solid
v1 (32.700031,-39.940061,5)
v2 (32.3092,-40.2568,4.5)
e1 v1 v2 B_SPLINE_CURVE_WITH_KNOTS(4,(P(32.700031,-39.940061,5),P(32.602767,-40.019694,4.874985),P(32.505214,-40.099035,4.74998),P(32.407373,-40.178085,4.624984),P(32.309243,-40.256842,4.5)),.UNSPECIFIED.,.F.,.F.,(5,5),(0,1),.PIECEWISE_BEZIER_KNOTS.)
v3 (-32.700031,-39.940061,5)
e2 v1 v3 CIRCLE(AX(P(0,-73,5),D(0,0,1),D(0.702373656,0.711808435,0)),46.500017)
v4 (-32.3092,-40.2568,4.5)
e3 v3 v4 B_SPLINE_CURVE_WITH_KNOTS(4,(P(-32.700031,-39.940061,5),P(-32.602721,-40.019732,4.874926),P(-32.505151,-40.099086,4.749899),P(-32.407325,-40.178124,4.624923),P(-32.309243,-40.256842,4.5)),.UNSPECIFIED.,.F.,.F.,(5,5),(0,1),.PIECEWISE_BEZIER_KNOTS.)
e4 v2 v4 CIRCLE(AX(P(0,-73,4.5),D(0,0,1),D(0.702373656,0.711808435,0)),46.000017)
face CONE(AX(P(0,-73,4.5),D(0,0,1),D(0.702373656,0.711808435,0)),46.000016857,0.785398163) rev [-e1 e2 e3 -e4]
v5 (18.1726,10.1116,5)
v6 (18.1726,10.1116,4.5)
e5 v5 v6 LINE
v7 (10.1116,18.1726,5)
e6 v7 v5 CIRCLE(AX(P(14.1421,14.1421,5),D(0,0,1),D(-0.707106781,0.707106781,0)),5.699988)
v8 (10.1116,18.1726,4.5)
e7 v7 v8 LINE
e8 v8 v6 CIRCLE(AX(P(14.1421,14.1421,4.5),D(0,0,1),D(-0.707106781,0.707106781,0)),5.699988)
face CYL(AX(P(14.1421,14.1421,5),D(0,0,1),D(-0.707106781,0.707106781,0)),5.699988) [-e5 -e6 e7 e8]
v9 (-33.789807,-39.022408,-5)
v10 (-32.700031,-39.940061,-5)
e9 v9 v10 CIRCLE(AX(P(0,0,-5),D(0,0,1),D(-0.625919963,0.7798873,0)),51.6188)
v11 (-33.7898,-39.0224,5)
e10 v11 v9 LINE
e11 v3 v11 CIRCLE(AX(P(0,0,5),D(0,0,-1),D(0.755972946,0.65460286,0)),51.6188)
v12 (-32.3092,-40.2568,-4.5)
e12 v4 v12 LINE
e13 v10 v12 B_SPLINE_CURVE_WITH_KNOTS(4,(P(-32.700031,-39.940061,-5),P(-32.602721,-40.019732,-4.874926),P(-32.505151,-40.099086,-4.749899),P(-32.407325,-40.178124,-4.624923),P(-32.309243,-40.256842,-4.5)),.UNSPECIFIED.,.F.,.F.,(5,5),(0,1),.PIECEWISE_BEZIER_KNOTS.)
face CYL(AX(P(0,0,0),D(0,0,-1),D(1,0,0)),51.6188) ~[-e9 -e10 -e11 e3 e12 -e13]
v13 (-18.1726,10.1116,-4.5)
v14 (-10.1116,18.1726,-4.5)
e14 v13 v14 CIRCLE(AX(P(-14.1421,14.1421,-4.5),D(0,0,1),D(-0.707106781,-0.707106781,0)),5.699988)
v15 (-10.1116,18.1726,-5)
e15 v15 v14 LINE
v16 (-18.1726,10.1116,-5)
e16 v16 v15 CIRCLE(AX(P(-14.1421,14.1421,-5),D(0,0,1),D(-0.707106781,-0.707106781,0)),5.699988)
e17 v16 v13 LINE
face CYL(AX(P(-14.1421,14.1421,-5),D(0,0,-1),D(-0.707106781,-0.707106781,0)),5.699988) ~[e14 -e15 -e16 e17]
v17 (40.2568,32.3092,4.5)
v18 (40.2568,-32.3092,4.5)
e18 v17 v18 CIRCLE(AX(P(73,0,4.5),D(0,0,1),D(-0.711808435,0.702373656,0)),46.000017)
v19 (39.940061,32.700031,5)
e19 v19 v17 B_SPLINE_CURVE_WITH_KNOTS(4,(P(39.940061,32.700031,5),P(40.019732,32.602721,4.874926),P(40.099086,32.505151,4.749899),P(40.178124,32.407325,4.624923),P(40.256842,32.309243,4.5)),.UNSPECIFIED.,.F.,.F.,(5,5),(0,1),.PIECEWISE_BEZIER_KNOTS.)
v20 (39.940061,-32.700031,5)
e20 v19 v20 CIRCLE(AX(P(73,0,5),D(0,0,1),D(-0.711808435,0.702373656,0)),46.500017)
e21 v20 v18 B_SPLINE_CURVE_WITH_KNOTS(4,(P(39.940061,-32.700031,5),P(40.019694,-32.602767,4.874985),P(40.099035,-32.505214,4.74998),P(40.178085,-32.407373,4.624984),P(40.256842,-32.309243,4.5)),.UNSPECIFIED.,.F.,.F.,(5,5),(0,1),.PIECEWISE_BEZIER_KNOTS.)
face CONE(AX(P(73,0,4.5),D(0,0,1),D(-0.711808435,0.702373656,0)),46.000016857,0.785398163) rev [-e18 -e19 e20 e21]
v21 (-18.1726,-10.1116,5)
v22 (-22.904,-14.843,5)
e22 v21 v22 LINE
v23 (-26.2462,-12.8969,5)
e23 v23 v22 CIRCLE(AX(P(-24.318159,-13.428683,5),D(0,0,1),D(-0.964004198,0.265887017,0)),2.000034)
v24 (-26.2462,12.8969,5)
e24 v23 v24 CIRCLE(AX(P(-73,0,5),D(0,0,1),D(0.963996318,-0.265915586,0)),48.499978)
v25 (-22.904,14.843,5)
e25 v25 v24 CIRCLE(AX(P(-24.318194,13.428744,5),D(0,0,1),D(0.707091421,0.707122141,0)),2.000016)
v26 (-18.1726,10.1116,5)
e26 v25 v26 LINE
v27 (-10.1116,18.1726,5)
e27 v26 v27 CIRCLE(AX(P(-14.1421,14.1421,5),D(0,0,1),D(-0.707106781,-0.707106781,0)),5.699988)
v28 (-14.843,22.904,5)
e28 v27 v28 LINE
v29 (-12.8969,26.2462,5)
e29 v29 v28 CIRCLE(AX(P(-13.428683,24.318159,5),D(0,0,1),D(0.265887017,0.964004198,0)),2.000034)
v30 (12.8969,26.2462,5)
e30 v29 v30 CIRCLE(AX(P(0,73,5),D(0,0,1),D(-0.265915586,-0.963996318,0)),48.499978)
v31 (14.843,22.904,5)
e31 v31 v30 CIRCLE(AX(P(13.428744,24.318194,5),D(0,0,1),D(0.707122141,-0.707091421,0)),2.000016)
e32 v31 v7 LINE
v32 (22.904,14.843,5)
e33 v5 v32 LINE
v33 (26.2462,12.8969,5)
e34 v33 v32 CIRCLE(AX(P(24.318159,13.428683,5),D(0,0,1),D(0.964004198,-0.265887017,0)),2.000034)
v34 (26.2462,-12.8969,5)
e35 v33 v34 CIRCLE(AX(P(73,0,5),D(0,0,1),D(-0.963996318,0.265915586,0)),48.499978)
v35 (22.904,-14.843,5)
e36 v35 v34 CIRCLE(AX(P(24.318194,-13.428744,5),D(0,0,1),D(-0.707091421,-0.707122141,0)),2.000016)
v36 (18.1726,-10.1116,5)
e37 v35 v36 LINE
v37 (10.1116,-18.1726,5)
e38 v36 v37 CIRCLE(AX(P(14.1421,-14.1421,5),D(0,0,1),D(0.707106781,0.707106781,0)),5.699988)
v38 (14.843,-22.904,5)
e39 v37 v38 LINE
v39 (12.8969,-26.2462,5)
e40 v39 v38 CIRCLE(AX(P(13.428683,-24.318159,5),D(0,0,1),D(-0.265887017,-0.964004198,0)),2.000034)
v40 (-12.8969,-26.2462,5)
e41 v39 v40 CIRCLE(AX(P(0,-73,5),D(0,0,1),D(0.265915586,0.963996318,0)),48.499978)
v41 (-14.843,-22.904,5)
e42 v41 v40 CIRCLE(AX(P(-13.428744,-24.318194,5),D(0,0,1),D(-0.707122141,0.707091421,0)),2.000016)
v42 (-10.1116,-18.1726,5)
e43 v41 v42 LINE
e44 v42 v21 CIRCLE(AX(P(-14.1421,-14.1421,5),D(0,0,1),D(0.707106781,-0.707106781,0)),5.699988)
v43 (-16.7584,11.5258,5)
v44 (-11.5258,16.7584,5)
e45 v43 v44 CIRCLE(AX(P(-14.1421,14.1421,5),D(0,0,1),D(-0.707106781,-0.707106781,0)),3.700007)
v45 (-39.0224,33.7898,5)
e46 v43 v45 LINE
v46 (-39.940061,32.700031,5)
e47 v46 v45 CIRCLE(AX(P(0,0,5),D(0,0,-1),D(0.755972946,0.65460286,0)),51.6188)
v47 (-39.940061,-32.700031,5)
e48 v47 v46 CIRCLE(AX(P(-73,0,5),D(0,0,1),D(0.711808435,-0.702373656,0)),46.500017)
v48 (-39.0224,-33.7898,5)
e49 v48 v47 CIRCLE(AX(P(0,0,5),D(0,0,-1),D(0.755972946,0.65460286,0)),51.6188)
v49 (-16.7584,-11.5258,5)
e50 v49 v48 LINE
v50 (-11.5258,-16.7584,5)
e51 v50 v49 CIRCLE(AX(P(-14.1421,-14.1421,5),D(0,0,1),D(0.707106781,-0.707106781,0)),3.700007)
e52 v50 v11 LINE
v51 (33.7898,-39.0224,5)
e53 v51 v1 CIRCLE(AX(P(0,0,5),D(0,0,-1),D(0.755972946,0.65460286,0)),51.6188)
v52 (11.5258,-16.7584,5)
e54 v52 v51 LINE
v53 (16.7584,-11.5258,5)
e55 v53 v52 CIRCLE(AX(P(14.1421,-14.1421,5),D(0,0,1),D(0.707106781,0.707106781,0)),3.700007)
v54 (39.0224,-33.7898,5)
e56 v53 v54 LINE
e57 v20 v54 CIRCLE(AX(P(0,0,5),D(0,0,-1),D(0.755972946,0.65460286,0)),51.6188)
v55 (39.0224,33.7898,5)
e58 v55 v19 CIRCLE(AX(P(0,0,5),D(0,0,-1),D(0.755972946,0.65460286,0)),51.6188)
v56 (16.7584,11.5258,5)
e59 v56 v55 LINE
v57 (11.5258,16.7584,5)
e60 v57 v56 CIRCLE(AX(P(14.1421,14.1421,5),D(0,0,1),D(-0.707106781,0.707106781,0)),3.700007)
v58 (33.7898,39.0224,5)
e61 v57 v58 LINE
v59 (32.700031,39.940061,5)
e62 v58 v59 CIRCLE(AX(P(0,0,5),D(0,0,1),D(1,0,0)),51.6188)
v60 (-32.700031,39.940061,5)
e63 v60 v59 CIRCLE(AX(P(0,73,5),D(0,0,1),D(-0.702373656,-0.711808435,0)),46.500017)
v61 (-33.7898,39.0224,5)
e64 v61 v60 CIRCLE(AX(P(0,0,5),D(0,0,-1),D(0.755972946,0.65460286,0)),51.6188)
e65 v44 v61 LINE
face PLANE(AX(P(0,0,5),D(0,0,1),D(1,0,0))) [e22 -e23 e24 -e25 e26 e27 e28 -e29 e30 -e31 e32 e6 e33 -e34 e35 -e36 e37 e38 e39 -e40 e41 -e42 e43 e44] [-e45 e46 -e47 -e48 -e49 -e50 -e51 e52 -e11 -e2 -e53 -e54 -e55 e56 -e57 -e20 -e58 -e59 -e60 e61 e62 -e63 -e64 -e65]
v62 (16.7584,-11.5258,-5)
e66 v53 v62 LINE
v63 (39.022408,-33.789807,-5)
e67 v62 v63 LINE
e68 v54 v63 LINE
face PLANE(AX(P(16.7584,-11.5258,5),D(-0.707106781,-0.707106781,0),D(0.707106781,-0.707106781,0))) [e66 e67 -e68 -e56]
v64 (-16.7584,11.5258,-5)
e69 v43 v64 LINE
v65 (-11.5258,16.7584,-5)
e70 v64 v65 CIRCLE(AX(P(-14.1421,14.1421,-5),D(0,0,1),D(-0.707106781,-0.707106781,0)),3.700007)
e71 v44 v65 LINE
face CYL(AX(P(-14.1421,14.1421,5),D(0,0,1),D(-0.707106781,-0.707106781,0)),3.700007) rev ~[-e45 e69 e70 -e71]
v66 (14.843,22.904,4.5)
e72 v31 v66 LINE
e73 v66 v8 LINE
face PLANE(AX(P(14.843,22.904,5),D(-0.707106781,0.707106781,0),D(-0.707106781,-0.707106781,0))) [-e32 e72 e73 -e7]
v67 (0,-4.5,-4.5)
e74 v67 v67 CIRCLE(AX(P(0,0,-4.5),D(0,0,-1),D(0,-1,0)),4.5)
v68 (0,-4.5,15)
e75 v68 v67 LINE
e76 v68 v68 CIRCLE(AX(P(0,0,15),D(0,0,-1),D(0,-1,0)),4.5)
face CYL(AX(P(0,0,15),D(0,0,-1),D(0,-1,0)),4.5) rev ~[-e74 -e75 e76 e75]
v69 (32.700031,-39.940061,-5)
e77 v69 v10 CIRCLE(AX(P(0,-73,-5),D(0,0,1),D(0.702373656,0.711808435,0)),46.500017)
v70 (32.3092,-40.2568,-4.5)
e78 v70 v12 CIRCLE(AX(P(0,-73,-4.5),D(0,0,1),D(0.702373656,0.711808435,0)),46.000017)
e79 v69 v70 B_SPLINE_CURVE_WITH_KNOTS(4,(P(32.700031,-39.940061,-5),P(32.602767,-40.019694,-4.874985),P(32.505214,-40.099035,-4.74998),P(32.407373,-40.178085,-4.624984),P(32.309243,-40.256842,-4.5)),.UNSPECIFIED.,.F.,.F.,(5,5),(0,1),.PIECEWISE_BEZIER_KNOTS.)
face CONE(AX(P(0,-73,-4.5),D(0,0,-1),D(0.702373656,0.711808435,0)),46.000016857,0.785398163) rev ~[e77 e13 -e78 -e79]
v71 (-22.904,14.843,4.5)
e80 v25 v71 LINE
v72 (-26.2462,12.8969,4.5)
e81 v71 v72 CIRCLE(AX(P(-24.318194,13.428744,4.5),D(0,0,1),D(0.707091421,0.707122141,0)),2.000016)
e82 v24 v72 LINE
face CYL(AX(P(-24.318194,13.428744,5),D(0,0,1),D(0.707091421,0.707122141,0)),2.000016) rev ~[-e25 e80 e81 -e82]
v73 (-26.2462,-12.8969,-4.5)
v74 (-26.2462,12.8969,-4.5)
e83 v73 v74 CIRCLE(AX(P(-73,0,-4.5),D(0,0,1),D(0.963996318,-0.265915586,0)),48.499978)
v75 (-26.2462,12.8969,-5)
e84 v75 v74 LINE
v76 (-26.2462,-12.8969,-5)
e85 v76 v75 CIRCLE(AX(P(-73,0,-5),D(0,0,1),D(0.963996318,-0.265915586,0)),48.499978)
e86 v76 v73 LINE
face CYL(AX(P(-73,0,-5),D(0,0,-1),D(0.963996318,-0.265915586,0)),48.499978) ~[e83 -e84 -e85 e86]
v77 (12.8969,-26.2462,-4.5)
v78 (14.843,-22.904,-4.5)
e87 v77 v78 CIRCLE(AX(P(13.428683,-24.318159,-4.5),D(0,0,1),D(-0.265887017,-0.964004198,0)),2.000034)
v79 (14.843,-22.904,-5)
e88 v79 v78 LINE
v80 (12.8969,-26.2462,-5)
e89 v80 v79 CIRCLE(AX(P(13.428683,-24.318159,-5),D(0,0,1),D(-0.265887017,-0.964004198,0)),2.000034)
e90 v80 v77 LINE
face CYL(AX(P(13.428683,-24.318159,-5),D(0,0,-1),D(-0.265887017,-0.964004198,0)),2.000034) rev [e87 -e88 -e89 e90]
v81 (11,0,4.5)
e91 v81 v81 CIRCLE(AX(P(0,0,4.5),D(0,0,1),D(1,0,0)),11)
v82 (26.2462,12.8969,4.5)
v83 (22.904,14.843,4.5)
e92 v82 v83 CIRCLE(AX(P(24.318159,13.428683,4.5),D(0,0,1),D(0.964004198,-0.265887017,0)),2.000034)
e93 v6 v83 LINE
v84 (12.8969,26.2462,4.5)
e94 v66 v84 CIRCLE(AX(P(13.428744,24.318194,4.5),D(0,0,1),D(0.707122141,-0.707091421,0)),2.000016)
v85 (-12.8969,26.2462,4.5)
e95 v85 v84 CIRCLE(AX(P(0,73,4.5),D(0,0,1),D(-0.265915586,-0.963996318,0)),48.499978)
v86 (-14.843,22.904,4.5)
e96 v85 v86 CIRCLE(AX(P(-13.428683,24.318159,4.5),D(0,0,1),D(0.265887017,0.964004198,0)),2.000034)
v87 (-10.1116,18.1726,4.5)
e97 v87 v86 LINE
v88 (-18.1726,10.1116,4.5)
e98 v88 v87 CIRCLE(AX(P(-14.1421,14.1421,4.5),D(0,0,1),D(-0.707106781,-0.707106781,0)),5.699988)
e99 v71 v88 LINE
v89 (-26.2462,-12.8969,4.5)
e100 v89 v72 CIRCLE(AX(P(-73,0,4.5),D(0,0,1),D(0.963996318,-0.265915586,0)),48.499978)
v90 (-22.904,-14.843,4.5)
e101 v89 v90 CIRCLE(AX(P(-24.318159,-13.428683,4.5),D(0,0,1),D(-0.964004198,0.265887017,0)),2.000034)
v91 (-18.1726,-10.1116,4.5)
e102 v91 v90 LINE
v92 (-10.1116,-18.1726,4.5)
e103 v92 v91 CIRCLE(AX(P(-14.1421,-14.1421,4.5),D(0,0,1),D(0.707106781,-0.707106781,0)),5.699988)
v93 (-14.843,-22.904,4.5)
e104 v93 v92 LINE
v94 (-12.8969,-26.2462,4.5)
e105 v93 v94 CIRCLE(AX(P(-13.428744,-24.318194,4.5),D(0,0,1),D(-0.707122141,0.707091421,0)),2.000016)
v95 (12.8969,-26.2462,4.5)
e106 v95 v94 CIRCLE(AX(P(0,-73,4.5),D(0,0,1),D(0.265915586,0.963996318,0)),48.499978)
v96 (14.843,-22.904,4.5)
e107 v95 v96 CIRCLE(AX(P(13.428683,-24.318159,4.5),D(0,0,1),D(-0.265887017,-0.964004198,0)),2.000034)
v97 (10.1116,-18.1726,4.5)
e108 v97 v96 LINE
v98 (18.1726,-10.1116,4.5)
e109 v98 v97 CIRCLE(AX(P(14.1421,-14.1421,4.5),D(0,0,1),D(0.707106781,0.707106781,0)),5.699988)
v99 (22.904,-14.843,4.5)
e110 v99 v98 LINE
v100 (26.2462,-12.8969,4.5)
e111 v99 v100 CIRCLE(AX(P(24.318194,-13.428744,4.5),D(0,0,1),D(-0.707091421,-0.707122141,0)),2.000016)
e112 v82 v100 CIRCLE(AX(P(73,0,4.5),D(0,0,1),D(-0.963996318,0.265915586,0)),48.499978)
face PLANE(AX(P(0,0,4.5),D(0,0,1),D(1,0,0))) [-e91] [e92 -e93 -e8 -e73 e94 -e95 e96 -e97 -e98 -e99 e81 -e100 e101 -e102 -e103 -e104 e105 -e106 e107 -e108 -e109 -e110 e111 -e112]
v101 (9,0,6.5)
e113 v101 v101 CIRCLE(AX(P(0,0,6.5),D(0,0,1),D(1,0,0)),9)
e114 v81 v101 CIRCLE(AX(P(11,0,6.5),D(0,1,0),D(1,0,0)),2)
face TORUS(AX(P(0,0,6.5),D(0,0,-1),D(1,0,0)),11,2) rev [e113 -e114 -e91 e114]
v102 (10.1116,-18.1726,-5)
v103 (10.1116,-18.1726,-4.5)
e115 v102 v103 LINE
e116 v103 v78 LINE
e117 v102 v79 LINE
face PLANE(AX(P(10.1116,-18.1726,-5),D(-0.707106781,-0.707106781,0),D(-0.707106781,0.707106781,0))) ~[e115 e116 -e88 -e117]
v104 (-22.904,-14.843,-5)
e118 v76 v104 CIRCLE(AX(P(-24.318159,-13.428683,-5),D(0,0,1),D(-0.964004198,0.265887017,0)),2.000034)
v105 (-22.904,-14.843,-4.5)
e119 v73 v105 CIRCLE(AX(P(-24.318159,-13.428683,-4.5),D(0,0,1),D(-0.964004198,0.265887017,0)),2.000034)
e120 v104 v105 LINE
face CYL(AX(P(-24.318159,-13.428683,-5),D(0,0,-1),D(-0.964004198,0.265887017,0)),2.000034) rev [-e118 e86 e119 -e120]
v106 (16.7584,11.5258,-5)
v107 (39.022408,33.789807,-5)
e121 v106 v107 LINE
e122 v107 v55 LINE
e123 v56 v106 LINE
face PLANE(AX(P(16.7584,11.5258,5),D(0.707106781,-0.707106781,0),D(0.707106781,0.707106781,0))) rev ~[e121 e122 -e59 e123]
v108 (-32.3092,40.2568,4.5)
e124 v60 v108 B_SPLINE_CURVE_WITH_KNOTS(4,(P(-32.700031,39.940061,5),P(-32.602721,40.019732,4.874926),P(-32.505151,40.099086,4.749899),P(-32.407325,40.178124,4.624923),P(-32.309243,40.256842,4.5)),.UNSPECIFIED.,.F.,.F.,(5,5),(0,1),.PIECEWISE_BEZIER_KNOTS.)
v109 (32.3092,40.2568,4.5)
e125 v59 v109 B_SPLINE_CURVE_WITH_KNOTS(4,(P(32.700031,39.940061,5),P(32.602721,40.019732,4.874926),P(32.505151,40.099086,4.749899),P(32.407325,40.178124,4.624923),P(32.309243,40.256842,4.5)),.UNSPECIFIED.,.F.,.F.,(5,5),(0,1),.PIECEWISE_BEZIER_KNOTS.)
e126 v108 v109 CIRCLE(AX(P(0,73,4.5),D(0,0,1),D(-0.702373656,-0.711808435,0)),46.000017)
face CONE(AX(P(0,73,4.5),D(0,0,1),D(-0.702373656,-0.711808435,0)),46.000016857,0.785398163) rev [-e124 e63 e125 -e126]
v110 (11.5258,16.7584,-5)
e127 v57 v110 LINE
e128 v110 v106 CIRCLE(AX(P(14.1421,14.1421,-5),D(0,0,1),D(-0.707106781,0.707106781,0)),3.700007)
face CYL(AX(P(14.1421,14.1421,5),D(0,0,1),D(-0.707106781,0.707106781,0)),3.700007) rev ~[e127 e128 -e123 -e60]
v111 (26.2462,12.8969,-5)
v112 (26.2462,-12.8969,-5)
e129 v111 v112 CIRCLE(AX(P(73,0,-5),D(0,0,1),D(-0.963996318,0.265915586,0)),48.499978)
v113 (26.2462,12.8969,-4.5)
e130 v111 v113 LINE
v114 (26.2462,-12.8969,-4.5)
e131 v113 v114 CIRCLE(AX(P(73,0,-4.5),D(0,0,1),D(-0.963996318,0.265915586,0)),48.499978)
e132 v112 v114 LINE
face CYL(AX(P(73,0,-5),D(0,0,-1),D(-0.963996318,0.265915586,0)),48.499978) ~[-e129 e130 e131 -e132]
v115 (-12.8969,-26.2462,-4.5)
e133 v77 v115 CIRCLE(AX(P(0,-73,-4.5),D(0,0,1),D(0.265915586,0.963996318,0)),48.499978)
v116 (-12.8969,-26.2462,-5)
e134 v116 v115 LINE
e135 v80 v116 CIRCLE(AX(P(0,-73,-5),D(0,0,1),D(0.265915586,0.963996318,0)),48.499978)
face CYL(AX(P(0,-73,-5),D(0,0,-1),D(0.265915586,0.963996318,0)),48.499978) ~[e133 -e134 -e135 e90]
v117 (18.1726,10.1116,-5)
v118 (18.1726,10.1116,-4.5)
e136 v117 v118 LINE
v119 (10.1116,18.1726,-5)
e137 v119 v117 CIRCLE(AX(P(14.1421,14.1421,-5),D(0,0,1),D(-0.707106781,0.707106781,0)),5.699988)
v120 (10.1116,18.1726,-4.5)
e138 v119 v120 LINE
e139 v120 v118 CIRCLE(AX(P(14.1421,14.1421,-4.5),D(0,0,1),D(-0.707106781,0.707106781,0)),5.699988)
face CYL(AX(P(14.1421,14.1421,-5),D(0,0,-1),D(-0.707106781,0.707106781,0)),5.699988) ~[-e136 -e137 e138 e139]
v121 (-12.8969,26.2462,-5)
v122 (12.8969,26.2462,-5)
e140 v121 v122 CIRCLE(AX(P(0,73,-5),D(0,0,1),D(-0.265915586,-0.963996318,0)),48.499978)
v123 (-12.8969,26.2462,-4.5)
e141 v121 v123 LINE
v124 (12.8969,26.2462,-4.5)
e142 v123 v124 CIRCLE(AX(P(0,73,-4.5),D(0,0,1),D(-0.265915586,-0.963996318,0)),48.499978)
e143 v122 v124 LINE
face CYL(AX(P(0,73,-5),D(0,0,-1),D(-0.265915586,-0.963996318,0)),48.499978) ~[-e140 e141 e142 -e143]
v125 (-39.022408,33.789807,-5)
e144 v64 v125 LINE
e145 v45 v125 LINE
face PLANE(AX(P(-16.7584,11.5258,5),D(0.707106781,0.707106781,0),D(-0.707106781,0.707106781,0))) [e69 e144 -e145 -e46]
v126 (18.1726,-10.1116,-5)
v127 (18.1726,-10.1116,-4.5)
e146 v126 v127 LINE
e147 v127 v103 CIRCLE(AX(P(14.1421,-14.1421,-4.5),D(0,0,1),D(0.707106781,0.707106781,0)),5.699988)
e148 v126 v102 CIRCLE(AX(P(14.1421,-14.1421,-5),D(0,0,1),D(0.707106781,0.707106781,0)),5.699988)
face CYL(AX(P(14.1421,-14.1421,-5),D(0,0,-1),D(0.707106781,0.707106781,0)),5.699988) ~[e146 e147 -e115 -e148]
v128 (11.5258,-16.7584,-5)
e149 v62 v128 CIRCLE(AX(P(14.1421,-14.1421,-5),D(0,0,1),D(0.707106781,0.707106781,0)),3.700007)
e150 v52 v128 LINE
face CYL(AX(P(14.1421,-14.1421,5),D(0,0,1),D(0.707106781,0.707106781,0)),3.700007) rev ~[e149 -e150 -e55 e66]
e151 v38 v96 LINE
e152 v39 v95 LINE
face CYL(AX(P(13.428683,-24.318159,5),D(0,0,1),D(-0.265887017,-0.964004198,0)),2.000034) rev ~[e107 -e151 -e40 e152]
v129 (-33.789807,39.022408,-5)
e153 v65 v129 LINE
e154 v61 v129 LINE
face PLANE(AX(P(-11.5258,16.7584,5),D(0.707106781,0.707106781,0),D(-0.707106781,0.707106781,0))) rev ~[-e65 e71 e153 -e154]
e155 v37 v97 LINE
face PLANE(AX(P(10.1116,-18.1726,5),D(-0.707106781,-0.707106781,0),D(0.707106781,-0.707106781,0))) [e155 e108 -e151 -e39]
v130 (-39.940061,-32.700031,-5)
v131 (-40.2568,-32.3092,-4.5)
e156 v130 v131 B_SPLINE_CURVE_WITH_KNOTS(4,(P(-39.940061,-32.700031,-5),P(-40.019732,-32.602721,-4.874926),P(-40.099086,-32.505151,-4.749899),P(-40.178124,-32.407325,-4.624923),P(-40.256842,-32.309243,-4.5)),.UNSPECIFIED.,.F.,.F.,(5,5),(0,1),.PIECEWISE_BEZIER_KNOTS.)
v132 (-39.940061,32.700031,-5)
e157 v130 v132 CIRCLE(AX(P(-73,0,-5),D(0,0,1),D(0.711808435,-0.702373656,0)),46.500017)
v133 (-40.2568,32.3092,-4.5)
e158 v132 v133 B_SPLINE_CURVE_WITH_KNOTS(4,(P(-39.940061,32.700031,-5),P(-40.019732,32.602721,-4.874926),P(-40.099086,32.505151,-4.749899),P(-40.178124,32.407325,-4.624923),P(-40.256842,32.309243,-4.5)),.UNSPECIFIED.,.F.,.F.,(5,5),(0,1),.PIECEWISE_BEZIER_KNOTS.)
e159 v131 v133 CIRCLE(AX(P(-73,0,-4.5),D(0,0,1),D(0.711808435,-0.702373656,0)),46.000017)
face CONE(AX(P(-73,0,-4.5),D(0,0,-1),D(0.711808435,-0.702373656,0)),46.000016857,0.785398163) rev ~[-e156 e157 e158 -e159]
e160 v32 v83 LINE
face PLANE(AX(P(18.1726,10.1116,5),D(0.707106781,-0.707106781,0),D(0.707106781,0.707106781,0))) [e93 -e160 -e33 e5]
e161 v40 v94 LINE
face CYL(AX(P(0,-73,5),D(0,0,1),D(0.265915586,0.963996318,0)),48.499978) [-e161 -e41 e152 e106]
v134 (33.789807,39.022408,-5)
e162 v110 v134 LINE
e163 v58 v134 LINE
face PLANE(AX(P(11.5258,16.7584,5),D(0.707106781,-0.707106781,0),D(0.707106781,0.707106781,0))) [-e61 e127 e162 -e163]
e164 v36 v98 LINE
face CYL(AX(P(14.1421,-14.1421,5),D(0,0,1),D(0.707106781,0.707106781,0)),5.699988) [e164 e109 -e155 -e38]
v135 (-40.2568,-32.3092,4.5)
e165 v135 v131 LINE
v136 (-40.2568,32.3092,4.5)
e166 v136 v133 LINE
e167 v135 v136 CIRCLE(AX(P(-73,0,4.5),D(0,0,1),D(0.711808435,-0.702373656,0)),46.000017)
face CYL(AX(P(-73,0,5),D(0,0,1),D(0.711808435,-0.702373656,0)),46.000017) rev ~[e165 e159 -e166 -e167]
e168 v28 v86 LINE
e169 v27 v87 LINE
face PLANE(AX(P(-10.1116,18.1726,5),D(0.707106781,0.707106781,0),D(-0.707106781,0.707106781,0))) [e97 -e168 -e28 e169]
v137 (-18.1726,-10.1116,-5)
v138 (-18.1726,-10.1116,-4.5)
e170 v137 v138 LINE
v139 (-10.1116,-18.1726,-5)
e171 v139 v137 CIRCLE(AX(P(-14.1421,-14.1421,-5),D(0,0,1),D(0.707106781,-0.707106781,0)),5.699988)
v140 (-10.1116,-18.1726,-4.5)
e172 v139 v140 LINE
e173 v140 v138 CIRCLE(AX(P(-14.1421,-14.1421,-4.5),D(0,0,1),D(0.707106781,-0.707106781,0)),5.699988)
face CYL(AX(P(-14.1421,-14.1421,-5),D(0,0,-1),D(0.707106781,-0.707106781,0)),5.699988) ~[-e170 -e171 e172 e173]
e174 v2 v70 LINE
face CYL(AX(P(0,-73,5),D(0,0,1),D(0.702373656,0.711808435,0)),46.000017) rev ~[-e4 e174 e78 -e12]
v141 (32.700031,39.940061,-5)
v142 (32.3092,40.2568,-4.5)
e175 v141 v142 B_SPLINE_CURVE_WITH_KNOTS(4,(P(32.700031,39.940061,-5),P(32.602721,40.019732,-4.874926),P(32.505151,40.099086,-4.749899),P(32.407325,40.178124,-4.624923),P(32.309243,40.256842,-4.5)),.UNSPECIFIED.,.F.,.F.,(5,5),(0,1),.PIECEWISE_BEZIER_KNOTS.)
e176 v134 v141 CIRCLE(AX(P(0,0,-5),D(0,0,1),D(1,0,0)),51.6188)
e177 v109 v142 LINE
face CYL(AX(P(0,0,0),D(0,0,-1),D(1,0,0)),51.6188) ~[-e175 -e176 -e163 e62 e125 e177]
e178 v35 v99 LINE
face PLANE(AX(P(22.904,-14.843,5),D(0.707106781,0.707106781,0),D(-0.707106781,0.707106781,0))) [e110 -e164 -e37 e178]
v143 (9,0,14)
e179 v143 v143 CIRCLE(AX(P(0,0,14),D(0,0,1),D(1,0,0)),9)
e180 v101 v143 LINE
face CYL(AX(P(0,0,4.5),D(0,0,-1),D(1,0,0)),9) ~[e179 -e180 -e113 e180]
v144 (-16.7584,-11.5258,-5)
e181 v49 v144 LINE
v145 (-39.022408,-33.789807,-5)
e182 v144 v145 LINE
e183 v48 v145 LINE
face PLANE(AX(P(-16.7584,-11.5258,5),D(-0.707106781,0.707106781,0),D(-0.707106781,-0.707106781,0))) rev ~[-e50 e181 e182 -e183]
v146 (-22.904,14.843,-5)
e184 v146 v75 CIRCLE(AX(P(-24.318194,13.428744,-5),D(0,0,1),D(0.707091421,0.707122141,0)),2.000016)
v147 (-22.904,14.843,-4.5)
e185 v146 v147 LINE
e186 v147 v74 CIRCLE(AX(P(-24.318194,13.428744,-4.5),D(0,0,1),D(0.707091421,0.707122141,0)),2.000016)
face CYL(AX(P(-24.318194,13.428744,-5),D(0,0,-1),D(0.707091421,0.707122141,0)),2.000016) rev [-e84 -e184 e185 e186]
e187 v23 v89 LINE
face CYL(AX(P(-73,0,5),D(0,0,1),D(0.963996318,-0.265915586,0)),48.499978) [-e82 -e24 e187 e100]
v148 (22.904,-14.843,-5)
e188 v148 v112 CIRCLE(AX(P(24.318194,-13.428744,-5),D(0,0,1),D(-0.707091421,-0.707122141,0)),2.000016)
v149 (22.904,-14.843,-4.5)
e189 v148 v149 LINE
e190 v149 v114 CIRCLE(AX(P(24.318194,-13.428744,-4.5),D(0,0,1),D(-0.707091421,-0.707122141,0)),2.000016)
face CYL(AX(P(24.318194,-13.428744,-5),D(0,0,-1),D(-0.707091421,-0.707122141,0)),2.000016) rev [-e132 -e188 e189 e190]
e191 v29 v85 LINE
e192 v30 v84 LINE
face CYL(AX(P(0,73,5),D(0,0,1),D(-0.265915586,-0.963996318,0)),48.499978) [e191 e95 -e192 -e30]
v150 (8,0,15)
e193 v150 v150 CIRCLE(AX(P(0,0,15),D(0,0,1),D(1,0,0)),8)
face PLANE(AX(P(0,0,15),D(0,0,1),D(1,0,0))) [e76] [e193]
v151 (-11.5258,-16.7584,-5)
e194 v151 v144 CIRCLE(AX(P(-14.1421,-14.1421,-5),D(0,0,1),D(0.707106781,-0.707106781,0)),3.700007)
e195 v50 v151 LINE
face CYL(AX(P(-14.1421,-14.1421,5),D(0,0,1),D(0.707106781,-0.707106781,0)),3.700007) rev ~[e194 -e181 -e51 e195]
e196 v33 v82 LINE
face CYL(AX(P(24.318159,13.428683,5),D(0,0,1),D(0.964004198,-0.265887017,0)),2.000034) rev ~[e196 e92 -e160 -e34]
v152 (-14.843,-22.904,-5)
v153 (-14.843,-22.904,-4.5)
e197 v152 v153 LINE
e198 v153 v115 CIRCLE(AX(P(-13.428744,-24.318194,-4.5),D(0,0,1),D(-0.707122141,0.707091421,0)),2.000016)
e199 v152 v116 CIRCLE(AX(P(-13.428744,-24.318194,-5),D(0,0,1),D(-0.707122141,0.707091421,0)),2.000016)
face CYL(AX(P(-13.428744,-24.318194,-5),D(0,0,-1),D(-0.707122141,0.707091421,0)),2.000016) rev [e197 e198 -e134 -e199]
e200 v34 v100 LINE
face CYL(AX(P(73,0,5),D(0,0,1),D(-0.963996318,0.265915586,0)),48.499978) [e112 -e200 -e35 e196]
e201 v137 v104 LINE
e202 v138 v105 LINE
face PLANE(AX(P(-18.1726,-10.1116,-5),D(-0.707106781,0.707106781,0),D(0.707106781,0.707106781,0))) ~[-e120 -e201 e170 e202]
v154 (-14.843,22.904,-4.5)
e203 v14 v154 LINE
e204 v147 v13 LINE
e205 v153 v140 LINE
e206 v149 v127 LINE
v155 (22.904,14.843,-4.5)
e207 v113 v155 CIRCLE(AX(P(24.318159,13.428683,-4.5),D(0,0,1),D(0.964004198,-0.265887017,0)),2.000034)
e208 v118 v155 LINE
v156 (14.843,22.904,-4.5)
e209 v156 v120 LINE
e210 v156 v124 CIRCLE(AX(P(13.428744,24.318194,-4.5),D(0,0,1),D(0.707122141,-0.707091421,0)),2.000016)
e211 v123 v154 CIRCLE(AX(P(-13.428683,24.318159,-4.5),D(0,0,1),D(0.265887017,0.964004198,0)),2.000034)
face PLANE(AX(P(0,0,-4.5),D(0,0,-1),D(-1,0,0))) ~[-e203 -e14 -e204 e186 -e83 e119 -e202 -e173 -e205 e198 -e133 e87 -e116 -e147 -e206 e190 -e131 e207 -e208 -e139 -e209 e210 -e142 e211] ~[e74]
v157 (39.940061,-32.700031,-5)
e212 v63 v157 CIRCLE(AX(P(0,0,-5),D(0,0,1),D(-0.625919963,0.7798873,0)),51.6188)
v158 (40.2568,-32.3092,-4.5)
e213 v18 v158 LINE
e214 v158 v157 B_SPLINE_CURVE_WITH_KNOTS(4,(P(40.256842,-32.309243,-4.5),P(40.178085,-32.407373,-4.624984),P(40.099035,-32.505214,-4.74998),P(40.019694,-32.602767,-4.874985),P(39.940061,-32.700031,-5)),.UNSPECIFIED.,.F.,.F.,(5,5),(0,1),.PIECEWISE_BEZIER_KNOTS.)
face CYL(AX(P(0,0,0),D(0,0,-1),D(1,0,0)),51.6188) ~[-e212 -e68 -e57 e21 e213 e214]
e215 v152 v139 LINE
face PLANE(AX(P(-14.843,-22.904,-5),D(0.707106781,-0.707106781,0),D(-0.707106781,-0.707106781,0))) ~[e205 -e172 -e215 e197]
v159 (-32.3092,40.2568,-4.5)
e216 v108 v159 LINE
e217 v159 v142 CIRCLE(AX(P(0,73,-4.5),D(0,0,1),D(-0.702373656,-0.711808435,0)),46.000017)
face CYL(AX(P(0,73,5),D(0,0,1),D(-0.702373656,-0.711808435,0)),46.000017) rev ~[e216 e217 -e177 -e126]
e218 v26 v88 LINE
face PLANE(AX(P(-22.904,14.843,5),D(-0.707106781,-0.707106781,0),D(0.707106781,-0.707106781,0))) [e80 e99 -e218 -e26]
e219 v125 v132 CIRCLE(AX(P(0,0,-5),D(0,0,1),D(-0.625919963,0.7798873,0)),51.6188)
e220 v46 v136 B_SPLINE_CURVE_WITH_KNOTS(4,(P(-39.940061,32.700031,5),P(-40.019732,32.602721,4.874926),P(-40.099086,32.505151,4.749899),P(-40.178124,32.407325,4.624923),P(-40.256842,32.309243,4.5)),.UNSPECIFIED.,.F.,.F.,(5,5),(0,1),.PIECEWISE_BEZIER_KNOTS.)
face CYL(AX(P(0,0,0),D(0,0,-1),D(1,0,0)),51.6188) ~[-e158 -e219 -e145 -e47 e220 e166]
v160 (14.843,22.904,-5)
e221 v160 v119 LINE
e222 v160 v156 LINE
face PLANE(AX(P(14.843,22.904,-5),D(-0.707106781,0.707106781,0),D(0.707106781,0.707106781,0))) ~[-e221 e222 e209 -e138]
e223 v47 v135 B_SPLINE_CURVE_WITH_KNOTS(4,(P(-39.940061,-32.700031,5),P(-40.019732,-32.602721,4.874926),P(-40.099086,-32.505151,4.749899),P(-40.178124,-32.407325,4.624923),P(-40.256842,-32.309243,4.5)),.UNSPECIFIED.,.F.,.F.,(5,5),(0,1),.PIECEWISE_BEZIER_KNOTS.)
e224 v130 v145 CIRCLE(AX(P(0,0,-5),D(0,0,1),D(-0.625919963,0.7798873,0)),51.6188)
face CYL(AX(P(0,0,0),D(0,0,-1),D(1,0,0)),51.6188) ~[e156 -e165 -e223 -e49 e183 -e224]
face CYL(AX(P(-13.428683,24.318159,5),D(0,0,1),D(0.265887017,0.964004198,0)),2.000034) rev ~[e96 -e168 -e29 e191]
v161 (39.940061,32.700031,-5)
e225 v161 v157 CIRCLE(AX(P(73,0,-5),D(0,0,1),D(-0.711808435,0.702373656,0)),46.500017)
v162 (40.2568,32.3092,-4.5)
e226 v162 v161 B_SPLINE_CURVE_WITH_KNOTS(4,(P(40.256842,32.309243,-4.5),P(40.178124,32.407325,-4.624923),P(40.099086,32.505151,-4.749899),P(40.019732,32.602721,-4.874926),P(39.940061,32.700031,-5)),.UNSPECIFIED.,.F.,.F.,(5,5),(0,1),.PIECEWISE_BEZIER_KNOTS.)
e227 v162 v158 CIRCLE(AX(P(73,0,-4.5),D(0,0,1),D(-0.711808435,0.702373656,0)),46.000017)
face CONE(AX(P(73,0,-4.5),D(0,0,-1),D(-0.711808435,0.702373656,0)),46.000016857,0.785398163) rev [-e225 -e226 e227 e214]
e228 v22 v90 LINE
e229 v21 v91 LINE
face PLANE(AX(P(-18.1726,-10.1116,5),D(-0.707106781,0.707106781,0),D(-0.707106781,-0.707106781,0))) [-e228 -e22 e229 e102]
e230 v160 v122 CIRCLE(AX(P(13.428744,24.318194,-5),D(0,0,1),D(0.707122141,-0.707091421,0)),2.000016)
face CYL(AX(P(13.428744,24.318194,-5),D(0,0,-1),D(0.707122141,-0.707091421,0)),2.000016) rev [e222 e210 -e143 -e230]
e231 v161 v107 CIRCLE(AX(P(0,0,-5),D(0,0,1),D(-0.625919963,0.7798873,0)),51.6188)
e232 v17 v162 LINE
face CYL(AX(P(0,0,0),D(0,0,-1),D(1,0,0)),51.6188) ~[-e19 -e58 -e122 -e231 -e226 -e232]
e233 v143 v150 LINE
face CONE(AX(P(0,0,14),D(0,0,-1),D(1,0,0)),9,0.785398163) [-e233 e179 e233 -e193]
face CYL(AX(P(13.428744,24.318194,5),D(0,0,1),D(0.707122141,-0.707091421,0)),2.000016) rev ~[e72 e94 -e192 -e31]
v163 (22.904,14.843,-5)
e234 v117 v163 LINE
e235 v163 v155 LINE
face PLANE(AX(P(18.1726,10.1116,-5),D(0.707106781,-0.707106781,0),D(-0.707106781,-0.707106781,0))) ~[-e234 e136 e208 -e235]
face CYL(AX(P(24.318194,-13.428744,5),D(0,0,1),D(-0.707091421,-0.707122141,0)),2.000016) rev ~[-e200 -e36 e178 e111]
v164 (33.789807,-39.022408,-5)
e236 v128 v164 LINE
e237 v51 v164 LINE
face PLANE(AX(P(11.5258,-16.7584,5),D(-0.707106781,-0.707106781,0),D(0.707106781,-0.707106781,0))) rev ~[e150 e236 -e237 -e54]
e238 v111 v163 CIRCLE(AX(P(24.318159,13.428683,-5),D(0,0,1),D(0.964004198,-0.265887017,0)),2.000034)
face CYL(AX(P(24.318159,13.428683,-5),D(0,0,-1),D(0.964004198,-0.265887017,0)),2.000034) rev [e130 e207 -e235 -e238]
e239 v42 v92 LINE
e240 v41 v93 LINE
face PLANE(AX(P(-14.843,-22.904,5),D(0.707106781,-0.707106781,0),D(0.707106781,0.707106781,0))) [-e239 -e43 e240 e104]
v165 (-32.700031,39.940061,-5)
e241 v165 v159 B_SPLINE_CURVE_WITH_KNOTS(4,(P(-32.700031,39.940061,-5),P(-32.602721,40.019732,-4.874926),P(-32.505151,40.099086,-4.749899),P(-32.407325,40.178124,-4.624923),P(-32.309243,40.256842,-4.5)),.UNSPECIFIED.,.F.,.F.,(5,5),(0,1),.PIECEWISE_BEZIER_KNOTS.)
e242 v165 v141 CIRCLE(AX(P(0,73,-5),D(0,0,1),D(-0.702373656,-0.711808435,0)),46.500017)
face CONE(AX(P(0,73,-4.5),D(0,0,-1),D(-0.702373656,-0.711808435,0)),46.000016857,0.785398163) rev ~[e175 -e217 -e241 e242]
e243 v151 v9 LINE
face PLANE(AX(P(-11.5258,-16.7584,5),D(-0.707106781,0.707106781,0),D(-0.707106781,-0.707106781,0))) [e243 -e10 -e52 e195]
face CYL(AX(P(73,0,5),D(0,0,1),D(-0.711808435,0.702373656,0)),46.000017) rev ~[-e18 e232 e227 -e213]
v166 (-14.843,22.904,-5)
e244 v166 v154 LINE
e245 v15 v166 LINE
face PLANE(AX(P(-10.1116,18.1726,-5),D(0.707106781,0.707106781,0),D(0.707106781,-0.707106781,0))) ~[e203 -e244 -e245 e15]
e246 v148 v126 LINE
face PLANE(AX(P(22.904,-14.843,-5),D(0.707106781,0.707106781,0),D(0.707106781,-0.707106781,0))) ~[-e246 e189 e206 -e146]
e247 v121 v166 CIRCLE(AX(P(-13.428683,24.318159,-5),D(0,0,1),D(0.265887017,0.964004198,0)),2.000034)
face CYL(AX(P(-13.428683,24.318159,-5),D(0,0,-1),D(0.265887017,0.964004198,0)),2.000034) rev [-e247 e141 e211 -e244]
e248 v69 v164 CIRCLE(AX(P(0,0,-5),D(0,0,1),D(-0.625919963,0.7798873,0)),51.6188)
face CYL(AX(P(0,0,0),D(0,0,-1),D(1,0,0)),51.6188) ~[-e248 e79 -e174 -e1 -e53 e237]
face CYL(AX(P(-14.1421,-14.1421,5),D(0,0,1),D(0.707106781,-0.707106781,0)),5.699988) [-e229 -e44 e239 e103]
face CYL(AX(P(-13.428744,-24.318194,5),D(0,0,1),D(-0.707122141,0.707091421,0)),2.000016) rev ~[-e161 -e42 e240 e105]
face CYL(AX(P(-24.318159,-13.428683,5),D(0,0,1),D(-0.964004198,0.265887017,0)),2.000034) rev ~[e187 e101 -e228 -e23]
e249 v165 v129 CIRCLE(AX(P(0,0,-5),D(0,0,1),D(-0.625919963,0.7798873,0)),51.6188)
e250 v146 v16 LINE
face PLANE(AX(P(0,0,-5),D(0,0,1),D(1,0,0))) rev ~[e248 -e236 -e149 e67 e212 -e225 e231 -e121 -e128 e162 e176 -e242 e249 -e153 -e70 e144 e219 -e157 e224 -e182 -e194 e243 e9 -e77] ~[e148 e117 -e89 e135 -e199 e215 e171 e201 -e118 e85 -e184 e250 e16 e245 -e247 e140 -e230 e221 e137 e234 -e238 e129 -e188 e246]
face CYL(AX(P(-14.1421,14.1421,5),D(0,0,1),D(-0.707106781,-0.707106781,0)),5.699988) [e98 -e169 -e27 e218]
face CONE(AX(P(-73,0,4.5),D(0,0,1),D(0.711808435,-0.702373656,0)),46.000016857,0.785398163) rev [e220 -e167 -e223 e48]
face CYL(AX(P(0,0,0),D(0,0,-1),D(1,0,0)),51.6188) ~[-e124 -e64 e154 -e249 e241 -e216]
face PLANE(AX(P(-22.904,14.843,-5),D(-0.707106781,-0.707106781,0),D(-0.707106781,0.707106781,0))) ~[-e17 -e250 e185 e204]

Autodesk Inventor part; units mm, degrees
ref_plane "YZ Plane" through (0, 0, 0) normal (1, 0, 0) x (0, 1, 0)
ref_plane "XZ Plane" through (0, 0, 0) normal (0, 1, 0) x (-1, 0, 0)
ref_plane "XY Plane" through (0, 0, 0) normal (0, 0, 1) x (1, 0, 0)
sketch "Sketch1" plane through (0, 0, 0) normal (0, 0, 1) x (1, 0, 0)
  circle A0 centre (0, 0) radius 51.6188
  dimension "d0" = 103.2376
extrude "Extrusion1" add sketch "Sketch1" along normal mid plane 10
sketch "Sketch2" plane through (0, 0, 5) normal (0, 0, 1) x (1, 0, 0)
  circle A0 centre (0, 0) radius 51.6188 projected
  arc A1 (-32.3092, 40.2568) -> (32.3092, 40.2568) centre (0, 73) ccw
  line L0 (0, 0) -> (36.5, 36.5) construction
  line L1 (0, -76.5426) -> (0, 97.9238) construction
  arc A2 (11.5258, 16.7584) -> (16.7584, 11.5258) centre (14.1421, 14.1421) ccw
  line L2 (11.5258, 16.7584) -> (33.7898, 39.0224)
  line L3 (16.7584, 11.5258) -> (39.0224, 33.7898)
  dimension "d3" = 46
  dimension "d4" = 73
  dimension "d5" = 20
  dimension "d6" = 45
  dimension "d7" = 3.7
extrude "Extrusion2" cut sketch "Sketch2" against normal through all contours L3 A2 L2 A0 | A0 A1
pattern_circular "Circular Pattern1" count 4 over 360 about axis through (0, 0, 0) along (0, 0, 1) of "Extrusion2"
chamfer "Chamfer1" distance 0.5 angle 45 8 edges at (0, 27, -5) (0, 27, 5) (27, 0, 5) (27, 0, -5) (-27, 0, 5) (0, -27, 5) (-27, 0, -5) (0, -27, -5)
sketch "Sketch3" plane through (0, 0, 5) normal (0, 0, 1) x (1, 0, 0)
  arc A0 (32.7, -39.9401) -> (-32.7, -39.9401) centre (0, -73) ccw projected
  line L0 (33.7898, -39.0224) -> (11.5258, -16.7584) projected
  arc A1 (16.7584, -11.5258) -> (11.5258, -16.7584) centre (14.1421, -14.1421) ccw projected
  line L1 (16.7584, -11.5258) -> (39.0224, -33.7898) projected
  arc A2 (39.9401, 32.7) -> (39.9401, -32.7) centre (73, 0) ccw projected
  line L2 (39.0224, 33.7898) -> (16.7584, 11.5258) projected
  arc A3 (11.5258, 16.7584) -> (16.7584, 11.5258) centre (14.1421, 14.1421) ccw projected
  line L3 (11.5258, 16.7584) -> (33.7898, 39.0224) projected
  arc A4 (-32.7, 39.9401) -> (32.7, 39.9401) centre (0, 73) ccw projected
  line L4 (-33.7898, 39.0224) -> (-11.5258, 16.7584) projected
  arc A5 (-16.7584, 11.5258) -> (-11.5258, 16.7584) centre (-14.1421, 14.1421) ccw projected
  line L5 (-16.7584, 11.5258) -> (-39.0224, 33.7898) projected
  arc A6 (-39.9401, -32.7) -> (-39.9401, 32.7) centre (-73, 0) ccw projected
  line L6 (-39.0224, -33.7898) -> (-16.7584, -11.5258) projected
  arc A7 (-11.5258, -16.7584) -> (-16.7584, -11.5258) centre (-14.1421, -14.1421) ccw projected
  line L7 (-11.5258, -16.7584) -> (-33.7898, -39.0224) projected
  line L8 (14.843, 22.904) -> (10.1116, 18.1726)
  arc A8 (10.1116, 18.1726) -> (18.1726, 10.1116) centre (14.1421, 14.1421) ccw
  line L9 (18.1726, 10.1116) -> (22.904, 14.843)
  arc A9 (26.2462, 12.8969) -> (26.2462, -12.8969) centre (73, 0) ccw
  line L10 (22.904, -14.843) -> (18.1726, -10.1116)
  arc A10 (18.1726, -10.1116) -> (10.1116, -18.1726) centre (14.1421, -14.1421) ccw
  line L11 (10.1116, -18.1726) -> (14.843, -22.904)
  arc A11 (12.8969, -26.2462) -> (-12.8969, -26.2462) centre (0, -73) ccw
  line L12 (-14.843, -22.904) -> (-10.1116, -18.1726)
  arc A12 (-10.1116, -18.1726) -> (-18.1726, -10.1116) centre (-14.1421, -14.1421) ccw
  line L13 (-18.1726, -10.1116) -> (-22.904, -14.843)
  arc A13 (-26.2462, -12.8969) -> (-26.2462, 12.8969) centre (-73, 0) ccw
  line L14 (-22.904, 14.843) -> (-18.1726, 10.1116)
  arc A14 (-18.1726, 10.1116) -> (-10.1116, 18.1726) centre (-14.1421, 14.1421) ccw
  line L15 (-10.1116, 18.1726) -> (-14.843, 22.904)
  arc A15 (-12.8969, 26.2462) -> (12.8969, 26.2462) centre (0, 73) ccw
  arc A16 (-12.8969, 26.2462) -> (-14.843, 22.904) centre (-13.4287, 24.3182) ccw
  arc A17 (14.843, 22.904) -> (12.8969, 26.2462) centre (13.4287, 24.3182) ccw
  arc A18 (26.2462, 12.8969) -> (22.904, 14.843) centre (24.3182, 13.4287) ccw
  arc A19 (22.904, -14.843) -> (26.2462, -12.8969) centre (24.3182, -13.4287) ccw
  arc A20 (12.8969, -26.2462) -> (14.843, -22.904) centre (13.4287, -24.3182) ccw
  arc A21 (-14.843, -22.904) -> (-12.8969, -26.2462) centre (-13.4287, -24.3182) ccw
  arc A22 (-26.2462, -12.8969) -> (-22.904, -14.843) centre (-24.3182, -13.4287) ccw
  arc A23 (-22.904, 14.843) -> (-26.2462, 12.8969) centre (-24.3182, 13.4287) ccw
  point P0 (21.4306, 29.4916)
  point P1 (29.4916, 21.4306)
  point P2 (29.4916, -21.4306)
  point P3 (21.4306, -29.4916)
  point P4 (-21.4306, -29.4916)
  point P5 (-29.4916, -21.4306)
  point P6 (-29.4916, 21.4306)
  point P7 (-21.4306, 29.4916)
  dimension "d16" = 2
  dimension "d17" = 2
extrude "Extrusion3" cut sketch "Sketch3" against normal blind 0.5
mirror "Mirror1" about plane through (0, 0, 0) normal (0, 0, 1) of "Extrusion3"
sketch "Sketch4" plane through (0, 0, 4.5) normal (0, 0, 1) x (1, 0, 0)
  circle A0 centre (0, 0) radius 9
  dimension "d20" = 18
extrude "Extrusion4" add sketch "Sketch4" along normal blind 10.5
sketch "Sketch5" plane through (0, 0, 15) normal (0, 0, 1) x (1, 0, 0)
  circle A0 centre (0, 0) radius 9 projected
hole "Hole1" at (0, 0, 15) direction (0, 0, -1) diameter 9 end through all
fillet "Fillet1" radius 2 1 edges at (-9, 0, 4.5)
chamfer "Chamfer2" distance 1 angle 45 1 edges at (-9, 0, 15)
properties part number "Malta Cross" material "Steel"
